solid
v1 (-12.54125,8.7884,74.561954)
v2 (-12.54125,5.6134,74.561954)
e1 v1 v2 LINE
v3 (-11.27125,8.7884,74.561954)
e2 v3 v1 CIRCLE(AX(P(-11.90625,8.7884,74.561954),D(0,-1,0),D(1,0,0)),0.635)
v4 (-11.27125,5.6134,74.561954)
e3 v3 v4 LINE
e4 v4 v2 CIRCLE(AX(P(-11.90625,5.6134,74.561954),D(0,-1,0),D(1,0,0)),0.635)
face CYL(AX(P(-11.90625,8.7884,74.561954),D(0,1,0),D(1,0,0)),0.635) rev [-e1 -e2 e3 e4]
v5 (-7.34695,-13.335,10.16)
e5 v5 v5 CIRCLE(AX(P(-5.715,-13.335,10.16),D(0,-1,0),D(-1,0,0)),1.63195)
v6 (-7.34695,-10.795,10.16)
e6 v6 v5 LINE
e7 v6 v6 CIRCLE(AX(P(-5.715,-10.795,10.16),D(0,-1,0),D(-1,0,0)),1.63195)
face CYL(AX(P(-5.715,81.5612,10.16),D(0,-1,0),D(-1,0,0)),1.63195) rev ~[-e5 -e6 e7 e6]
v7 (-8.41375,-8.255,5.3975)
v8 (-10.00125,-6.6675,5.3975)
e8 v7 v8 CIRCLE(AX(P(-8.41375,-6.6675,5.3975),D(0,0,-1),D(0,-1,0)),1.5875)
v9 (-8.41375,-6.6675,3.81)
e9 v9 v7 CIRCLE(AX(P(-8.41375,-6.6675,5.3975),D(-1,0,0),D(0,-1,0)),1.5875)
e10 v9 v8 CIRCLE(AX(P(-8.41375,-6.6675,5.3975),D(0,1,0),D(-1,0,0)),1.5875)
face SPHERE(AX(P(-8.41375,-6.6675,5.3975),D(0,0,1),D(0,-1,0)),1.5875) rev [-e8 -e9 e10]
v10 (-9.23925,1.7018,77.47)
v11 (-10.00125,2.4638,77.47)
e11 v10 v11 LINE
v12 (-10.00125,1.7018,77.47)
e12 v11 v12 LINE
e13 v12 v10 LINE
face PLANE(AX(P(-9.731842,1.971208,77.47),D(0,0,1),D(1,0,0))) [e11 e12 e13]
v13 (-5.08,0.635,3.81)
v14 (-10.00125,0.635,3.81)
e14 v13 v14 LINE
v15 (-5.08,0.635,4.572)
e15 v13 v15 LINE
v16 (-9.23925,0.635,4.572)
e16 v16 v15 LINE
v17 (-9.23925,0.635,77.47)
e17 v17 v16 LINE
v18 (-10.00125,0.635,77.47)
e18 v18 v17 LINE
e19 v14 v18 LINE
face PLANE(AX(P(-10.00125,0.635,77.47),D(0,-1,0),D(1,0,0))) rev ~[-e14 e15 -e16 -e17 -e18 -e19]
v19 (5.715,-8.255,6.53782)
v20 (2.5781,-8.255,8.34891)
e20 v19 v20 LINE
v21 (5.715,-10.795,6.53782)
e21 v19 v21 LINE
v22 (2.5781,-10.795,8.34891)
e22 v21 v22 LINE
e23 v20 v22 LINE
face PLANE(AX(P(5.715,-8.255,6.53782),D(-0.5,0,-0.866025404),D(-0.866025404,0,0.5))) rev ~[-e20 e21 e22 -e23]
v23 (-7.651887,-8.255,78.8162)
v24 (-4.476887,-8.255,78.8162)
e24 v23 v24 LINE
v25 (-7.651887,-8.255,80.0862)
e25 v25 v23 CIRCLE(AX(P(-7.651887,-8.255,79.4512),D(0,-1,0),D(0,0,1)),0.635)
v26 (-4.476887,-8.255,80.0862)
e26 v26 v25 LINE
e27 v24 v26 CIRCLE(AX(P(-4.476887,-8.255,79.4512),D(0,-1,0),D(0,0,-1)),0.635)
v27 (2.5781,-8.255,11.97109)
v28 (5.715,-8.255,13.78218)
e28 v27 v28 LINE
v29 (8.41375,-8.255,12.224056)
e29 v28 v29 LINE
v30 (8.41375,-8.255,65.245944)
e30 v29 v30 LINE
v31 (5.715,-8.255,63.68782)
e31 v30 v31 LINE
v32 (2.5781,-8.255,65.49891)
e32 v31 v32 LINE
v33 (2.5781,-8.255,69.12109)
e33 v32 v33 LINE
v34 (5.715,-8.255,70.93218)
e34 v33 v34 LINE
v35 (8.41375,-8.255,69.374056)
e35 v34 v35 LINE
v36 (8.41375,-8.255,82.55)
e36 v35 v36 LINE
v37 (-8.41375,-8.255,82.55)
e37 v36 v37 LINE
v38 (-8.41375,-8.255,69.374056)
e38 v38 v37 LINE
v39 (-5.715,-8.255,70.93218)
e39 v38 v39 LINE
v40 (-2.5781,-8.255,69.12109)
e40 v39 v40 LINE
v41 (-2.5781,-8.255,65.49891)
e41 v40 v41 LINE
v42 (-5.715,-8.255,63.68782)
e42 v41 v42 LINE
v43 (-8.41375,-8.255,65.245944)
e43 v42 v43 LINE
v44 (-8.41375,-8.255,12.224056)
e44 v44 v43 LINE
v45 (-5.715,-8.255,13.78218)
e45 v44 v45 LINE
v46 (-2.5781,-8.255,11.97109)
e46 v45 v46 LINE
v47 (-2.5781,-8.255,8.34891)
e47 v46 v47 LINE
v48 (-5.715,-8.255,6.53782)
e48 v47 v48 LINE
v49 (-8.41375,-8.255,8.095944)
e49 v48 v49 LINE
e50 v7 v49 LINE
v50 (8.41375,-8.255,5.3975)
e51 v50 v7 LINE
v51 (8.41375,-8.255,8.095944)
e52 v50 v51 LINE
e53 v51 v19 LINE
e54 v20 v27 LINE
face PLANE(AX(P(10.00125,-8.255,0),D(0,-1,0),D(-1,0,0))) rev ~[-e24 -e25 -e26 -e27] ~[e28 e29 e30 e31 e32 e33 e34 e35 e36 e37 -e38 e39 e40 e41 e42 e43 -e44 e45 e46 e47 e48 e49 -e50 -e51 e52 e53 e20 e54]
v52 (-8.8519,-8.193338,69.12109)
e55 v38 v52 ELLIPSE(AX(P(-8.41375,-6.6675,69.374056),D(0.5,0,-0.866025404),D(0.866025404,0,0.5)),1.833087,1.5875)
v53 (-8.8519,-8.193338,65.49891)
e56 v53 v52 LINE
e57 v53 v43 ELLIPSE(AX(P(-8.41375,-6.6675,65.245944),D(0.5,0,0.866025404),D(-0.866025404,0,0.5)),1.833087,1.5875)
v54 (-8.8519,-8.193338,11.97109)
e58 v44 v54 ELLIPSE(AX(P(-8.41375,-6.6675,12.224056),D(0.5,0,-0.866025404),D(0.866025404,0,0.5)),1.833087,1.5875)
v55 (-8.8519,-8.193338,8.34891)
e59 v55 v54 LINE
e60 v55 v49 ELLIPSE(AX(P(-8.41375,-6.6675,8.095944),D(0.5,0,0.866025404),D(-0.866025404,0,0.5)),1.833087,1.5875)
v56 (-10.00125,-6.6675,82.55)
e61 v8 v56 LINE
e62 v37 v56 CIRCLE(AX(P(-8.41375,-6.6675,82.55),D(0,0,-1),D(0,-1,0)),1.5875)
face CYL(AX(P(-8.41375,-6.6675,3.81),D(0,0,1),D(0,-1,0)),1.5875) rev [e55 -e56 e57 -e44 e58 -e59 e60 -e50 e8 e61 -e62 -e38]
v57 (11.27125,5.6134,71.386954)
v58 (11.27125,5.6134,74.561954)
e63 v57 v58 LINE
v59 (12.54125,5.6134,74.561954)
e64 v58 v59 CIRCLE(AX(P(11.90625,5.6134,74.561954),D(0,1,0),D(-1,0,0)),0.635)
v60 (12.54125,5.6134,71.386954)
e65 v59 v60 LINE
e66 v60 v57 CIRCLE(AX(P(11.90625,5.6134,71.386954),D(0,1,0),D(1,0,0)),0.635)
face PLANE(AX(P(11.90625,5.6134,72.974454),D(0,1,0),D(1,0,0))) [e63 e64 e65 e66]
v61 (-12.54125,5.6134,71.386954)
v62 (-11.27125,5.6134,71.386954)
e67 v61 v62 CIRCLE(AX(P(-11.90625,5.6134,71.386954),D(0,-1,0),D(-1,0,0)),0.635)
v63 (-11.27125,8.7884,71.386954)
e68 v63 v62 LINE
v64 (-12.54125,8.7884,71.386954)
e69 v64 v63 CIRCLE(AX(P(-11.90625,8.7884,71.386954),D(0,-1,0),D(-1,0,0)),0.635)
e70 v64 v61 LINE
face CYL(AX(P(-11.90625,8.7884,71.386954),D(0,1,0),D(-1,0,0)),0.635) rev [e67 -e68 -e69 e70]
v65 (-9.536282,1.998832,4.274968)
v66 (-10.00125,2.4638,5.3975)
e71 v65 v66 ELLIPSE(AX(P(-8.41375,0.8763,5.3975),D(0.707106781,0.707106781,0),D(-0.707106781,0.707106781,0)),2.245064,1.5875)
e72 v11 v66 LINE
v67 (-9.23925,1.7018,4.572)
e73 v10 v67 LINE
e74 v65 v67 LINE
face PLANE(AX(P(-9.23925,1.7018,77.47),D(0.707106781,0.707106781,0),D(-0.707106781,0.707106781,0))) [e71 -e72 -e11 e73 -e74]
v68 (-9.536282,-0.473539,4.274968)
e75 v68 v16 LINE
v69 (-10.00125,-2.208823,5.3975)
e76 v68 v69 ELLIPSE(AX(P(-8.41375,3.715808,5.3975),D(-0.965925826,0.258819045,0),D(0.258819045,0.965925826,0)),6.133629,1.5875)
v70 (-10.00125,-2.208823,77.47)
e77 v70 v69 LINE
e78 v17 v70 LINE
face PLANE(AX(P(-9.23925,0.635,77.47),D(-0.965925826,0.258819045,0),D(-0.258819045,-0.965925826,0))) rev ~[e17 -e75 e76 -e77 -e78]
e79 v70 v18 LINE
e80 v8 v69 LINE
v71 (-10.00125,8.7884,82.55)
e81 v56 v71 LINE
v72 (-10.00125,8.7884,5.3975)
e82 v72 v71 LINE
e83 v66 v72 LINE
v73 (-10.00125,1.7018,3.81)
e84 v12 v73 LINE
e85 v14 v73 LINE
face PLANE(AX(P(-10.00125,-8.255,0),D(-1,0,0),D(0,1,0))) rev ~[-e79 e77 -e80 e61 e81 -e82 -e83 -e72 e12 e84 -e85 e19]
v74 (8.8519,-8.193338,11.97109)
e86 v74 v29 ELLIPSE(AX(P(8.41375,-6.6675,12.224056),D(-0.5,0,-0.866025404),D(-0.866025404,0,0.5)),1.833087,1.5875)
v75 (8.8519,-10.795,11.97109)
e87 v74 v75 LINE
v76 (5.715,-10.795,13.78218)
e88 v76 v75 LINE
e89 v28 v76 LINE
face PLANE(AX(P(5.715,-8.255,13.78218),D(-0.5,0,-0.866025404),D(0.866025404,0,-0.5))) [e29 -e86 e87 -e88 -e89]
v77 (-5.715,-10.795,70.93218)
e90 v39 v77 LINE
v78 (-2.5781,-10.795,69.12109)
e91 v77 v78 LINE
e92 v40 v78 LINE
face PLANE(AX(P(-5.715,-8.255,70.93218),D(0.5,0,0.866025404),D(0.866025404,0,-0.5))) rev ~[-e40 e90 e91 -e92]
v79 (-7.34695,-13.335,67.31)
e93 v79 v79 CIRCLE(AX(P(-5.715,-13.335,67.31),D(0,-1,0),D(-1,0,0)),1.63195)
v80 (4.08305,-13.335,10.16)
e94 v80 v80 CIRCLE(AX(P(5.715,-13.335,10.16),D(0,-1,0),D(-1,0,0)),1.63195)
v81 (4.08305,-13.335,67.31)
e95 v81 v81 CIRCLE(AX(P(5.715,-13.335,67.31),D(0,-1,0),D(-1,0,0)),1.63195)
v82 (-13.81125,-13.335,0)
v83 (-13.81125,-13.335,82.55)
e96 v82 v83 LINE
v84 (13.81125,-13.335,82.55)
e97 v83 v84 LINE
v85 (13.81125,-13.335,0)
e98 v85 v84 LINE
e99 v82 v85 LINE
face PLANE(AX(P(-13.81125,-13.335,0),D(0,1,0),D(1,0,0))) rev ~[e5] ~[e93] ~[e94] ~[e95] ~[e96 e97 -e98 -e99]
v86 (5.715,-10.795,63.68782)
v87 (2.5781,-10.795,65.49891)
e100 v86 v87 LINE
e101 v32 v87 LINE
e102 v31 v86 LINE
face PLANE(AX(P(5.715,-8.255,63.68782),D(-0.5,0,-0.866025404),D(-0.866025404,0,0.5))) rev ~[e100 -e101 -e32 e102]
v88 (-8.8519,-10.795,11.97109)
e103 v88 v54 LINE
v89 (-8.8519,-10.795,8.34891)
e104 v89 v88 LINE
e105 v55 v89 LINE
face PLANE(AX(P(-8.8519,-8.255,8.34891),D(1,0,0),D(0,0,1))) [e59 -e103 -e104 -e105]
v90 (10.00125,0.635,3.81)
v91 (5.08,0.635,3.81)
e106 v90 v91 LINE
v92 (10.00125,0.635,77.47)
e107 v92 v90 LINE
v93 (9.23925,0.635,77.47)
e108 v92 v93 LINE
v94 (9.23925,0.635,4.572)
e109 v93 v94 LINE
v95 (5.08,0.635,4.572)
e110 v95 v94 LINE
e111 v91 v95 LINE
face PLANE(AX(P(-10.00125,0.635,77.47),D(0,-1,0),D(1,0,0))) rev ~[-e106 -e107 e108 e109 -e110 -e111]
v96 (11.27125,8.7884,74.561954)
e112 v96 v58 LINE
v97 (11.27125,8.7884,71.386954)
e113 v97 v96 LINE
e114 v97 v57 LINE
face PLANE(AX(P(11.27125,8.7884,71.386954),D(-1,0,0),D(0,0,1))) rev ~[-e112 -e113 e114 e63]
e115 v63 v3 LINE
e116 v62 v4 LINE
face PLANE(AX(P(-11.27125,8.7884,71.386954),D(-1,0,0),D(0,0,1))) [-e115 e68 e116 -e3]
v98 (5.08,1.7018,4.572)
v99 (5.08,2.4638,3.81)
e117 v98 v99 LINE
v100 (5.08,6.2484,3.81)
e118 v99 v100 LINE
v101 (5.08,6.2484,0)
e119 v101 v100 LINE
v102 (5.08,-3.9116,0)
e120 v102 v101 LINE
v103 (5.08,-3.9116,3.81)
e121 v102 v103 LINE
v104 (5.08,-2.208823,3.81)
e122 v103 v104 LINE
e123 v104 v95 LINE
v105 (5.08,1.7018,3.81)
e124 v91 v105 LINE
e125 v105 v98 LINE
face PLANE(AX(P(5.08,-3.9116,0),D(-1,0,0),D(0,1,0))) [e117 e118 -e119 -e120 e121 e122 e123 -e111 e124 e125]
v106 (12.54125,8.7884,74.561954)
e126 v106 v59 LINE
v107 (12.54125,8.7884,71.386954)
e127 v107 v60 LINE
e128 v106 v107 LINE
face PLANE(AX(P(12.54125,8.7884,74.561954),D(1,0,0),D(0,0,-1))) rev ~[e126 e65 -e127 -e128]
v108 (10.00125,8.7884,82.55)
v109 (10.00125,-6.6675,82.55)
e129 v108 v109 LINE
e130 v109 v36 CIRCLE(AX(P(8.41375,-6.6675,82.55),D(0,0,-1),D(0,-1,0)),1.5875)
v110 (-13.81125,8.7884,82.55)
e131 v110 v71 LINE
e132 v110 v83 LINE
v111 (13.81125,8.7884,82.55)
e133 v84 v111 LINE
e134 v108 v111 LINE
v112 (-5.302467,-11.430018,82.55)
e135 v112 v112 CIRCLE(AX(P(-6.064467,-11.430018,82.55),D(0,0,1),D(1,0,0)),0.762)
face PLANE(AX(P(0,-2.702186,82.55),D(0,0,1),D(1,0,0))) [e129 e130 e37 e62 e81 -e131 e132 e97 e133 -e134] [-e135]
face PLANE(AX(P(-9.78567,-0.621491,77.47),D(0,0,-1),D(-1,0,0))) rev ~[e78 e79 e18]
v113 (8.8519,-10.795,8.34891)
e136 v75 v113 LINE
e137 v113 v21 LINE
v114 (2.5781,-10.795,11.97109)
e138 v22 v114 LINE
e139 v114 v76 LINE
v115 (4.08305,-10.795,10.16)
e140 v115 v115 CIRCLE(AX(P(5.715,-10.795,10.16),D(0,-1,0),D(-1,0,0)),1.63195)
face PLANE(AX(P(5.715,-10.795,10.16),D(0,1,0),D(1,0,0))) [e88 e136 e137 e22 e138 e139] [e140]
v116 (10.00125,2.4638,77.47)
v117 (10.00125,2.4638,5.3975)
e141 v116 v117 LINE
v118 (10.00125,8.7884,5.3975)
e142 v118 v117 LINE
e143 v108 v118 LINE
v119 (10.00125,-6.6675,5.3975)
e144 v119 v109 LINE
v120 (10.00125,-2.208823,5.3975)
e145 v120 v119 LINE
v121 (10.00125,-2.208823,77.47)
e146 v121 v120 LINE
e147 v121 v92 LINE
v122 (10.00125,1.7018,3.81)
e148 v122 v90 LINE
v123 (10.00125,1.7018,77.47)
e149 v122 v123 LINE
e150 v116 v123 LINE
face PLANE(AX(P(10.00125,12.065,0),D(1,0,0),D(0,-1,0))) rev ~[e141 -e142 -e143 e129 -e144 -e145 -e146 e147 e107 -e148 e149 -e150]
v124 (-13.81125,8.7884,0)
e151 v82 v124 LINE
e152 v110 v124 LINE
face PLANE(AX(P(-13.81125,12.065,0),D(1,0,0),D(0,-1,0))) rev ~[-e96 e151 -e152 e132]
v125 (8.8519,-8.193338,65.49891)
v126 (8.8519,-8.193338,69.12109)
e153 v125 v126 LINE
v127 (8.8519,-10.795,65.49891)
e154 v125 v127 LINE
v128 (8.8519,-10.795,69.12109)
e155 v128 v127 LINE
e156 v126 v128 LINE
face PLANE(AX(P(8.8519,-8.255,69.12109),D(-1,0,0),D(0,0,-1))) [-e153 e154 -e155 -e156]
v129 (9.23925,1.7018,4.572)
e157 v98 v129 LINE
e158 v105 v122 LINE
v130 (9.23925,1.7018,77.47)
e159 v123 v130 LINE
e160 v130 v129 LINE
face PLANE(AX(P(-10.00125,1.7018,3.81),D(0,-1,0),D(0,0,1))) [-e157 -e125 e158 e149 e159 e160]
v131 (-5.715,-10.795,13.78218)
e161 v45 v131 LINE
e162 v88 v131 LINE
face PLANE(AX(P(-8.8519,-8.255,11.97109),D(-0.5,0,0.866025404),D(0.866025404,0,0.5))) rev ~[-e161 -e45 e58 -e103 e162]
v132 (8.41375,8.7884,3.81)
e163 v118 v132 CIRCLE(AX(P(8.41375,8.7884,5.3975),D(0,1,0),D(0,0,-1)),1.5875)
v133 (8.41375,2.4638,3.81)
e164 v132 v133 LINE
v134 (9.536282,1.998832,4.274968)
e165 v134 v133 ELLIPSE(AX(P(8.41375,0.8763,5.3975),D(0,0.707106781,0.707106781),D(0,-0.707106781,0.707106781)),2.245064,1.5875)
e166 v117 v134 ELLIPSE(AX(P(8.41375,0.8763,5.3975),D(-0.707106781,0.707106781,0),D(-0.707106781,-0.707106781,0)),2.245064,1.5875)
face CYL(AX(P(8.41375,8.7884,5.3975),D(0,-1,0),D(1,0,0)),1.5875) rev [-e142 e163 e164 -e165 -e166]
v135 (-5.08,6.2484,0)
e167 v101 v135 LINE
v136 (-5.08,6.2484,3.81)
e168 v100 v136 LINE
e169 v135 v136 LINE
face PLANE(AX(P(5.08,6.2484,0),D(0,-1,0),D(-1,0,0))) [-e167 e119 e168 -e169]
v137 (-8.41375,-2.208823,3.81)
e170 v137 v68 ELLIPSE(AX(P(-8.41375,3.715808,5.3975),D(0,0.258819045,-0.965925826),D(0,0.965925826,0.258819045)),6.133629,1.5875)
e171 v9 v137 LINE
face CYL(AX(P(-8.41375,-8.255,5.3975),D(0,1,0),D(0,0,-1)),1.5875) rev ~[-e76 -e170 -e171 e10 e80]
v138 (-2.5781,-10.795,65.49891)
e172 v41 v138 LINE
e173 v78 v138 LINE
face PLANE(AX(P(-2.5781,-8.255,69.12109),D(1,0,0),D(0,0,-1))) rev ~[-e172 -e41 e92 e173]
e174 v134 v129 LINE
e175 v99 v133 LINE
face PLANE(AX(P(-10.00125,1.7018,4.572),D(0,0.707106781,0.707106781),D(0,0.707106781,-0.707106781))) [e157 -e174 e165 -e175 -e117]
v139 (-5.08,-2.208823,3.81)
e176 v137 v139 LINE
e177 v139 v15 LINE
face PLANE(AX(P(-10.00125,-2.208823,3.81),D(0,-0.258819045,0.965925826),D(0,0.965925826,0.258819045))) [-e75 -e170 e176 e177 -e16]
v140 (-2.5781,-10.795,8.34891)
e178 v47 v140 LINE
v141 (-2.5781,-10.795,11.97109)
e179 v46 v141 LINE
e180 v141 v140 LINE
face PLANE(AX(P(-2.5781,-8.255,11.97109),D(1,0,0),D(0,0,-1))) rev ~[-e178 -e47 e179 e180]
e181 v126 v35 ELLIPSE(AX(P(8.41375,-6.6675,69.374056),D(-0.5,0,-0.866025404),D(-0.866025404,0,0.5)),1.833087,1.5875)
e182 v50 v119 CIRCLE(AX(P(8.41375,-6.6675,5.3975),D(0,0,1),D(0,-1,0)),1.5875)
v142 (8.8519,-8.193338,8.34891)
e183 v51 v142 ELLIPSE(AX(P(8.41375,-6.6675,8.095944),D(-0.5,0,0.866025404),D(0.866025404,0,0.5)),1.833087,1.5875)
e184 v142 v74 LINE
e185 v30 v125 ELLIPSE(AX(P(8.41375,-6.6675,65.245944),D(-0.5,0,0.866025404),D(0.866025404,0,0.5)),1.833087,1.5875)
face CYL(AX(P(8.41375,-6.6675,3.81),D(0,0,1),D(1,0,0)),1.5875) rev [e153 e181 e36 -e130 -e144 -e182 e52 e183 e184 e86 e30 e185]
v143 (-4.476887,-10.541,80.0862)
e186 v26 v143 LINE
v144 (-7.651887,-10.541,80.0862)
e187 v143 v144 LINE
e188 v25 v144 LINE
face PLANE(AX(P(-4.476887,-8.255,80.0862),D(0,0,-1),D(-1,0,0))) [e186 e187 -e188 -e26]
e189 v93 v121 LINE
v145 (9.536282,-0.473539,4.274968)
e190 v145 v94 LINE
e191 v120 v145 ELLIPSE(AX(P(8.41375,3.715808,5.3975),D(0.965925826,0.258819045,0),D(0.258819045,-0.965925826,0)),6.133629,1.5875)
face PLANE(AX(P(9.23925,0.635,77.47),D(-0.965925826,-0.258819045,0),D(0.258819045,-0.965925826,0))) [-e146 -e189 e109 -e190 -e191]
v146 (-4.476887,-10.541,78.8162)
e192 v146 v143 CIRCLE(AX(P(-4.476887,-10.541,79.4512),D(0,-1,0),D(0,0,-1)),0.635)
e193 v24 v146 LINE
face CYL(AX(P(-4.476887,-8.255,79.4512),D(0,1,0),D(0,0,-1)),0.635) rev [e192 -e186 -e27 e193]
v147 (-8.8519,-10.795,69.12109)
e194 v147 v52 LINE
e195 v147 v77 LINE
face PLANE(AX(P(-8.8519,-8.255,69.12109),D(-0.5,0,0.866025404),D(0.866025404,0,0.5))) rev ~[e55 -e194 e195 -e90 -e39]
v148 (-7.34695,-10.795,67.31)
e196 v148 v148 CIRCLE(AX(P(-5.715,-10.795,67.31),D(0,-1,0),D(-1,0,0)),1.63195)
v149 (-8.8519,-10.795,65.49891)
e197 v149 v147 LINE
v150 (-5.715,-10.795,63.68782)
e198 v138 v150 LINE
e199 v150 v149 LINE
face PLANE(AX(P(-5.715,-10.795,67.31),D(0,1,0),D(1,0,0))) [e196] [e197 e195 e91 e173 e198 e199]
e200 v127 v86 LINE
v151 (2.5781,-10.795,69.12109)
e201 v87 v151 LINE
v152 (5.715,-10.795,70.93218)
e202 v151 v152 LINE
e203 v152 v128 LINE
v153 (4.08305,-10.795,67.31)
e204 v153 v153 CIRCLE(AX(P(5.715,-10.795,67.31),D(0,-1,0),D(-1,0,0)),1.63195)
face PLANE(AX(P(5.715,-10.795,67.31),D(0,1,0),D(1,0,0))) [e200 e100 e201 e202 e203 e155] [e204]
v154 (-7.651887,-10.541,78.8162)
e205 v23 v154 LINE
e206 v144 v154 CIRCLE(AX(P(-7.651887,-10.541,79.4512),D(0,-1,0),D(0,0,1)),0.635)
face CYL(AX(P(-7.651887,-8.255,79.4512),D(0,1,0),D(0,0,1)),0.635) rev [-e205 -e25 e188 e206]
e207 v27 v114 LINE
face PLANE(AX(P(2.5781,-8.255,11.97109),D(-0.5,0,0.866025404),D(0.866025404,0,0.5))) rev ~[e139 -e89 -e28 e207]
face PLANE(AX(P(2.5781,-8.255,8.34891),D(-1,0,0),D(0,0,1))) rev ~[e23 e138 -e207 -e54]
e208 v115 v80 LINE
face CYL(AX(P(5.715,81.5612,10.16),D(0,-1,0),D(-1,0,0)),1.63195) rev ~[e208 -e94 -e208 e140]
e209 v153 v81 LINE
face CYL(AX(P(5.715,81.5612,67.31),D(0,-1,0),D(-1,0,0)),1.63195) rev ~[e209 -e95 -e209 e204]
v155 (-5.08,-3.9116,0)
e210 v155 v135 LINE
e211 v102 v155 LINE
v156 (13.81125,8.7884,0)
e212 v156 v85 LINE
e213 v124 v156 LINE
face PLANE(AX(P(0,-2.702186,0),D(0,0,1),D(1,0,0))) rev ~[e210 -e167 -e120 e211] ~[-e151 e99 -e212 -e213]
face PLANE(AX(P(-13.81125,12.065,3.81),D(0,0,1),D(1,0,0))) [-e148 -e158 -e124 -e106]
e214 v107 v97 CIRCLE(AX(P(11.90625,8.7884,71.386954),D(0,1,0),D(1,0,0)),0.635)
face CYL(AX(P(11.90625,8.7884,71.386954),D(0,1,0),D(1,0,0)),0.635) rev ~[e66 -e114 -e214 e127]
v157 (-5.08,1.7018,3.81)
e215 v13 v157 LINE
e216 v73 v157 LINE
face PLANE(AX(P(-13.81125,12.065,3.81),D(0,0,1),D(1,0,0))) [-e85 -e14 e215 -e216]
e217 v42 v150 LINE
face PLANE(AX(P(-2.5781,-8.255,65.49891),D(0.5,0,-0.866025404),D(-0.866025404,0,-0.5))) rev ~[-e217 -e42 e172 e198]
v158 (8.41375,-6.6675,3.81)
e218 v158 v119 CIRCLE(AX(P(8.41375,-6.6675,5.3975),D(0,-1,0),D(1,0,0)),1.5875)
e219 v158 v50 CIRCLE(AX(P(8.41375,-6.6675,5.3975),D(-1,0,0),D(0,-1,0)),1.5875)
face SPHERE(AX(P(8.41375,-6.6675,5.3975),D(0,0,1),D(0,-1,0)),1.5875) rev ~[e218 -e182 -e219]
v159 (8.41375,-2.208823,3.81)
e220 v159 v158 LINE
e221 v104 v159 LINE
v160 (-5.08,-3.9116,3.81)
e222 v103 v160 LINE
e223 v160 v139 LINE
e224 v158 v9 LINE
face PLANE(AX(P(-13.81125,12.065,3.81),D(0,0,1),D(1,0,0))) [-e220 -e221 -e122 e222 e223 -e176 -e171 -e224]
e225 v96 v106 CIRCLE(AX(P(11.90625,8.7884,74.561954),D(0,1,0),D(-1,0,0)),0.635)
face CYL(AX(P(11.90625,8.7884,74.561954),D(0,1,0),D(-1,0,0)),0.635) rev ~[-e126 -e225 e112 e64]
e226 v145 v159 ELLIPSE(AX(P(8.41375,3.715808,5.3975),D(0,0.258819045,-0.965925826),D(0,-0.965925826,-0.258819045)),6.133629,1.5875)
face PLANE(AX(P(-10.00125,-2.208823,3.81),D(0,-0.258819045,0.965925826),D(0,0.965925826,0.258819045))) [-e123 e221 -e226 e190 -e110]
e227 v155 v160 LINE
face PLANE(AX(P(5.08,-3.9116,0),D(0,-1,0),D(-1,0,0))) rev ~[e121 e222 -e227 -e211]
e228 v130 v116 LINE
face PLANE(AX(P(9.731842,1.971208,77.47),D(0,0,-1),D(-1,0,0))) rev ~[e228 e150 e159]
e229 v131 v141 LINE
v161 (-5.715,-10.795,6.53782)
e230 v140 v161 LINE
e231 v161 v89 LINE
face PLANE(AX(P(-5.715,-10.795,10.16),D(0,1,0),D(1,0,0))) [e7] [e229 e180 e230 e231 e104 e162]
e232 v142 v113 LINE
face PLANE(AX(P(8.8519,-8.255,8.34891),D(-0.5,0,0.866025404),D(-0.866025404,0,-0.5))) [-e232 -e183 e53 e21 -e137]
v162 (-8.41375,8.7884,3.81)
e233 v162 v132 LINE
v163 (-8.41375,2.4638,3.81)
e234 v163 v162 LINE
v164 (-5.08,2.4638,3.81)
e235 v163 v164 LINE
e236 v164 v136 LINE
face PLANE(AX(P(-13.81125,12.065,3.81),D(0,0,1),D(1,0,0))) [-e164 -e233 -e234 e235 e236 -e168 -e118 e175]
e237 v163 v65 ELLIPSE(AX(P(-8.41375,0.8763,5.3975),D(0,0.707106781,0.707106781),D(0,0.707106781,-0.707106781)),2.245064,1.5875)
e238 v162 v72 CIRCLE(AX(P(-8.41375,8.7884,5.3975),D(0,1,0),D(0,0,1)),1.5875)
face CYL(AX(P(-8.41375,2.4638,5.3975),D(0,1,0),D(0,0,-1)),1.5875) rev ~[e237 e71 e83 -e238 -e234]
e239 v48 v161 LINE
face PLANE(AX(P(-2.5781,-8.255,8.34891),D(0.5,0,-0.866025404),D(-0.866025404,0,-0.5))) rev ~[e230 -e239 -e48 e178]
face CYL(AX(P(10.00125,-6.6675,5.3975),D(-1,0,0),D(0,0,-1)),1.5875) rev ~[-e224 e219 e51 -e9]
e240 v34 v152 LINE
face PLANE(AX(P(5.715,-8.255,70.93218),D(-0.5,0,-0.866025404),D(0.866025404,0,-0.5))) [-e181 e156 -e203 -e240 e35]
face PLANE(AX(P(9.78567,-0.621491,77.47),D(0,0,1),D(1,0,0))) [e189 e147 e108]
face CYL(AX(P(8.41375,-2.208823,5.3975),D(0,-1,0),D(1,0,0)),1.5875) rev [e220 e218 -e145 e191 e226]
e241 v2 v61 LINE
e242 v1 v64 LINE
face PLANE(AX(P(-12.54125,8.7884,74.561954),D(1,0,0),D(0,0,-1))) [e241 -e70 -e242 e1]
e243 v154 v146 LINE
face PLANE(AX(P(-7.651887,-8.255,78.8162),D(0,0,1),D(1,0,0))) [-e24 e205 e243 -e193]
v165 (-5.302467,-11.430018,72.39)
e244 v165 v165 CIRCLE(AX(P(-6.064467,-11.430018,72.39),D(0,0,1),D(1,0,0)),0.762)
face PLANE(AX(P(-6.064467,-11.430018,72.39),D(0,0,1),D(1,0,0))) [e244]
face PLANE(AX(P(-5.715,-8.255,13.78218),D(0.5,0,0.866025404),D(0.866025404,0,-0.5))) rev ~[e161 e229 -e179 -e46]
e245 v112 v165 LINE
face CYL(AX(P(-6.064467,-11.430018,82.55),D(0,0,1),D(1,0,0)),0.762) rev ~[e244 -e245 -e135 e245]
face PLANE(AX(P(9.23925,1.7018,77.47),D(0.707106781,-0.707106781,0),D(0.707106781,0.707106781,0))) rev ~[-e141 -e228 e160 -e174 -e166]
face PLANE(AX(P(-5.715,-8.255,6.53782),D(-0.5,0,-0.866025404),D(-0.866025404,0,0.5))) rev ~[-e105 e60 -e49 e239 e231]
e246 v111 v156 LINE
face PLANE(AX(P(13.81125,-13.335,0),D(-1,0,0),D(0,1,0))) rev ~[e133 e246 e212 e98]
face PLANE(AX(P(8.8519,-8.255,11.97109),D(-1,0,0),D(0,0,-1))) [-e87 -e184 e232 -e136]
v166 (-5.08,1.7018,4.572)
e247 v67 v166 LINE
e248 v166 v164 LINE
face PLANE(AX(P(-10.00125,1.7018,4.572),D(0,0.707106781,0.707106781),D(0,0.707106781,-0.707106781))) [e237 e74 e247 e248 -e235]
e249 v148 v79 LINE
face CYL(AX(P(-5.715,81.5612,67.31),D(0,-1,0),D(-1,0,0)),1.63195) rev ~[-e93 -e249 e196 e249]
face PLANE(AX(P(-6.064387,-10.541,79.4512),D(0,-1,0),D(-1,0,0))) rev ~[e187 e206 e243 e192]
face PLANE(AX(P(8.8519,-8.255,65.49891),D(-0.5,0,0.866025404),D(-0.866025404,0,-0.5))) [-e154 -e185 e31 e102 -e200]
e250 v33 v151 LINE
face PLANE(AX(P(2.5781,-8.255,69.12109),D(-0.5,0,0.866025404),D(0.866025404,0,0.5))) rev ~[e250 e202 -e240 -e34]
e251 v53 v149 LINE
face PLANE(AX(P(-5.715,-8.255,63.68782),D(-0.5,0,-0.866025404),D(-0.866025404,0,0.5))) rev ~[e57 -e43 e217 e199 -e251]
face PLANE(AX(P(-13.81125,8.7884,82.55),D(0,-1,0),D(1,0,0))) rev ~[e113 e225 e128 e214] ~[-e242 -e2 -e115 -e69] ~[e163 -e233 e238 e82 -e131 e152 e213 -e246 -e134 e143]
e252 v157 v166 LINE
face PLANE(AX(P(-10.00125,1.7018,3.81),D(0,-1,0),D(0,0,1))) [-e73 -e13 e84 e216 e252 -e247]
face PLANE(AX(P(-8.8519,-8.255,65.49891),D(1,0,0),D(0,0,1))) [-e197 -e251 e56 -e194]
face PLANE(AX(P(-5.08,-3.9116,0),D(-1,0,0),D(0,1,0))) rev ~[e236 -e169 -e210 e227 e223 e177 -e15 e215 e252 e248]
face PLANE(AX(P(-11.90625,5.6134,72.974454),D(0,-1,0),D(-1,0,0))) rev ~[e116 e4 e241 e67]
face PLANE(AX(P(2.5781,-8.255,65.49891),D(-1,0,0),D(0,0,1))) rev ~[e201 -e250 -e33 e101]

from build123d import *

# Parameters (mm, degrees)
BOSS_EXTRUDE1_DEPTH            = 82.55
BOSS_EXTRUDE2_START            = -5.08
BOSS_EXTRUDE2_DEPTH            = 77.47
BOSS_EXTRUDE4_REACH            = 89.467
SKETCH8_W                      = 27.6225
SKETCH8_H                      = 3.81
BOSS_EXTRUDE5_REACH            = 88.945
CUT_EXTRUDE1_REACH             = 86.753
SKETCH10_W                     = 10.16
SKETCH10_H                     = 10.16
SKETCH11_W                     = 27.6225
SKETCH11_H                     = 3.2766
CUT_EXTRUDE2_DEPTH             = 85.753025619
FILLET3_R                      = 1.5875
CUT_EXTRUDE3_DEPTH             = 2.286
CUT_EXTRUDE4_DEPTH             = 3.175
F_4_CLEARANCE_HOLE1_D          = 3.2639
CUT_EXTRUDE5_DEPTH             = 2.54
CUT_EXTRUDE5_DIRECTION_2_REACH = 87.415
SKETCH18_R                     = 0.762
CUT_EXTRUDE6_DEPTH             = 10.16


with BuildPart() as part:
    # Sketch1 → Boss-Extrude1 (new body)
    with BuildSketch(Plane.XY):
        Polygon((10.00125, 12.065), (10.00125, -8.255), (-10.00125, -8.255), (-10.00125, 12.065), (-13.81125, 12.065), (-13.81125, -13.335), (13.81125, -13.335), (13.81125, 12.065), align=None)
    extrude(amount=BOSS_EXTRUDE1_DEPTH)

    # Sketch3 → Boss-Extrude2 (add)
    with BuildSketch(Plane.XY.offset(82.55).offset(BOSS_EXTRUDE2_START)):
        Polygon((10.00125, 1.7018), (9.23925, 1.7018), (10.00125, 2.4638), align=None)
        Polygon((10.00125, 0.635), (9.23925, 0.635), (10.00125, -2.208822715), align=None)
        Polygon((-10.00125, 2.4638), (-10.00125, 1.7018), (-9.23925, 1.7018), align=None)
        Polygon((-10.00125, -2.208822715), (-10.00125, 0.635), (-9.23925, 0.635), align=None)
    extrude(amount=-BOSS_EXTRUDE2_DEPTH)

    # Boss-Extrude4: up to this face of the body (flat: up to its plane)
    boss_extrude4_end = Plane(part.part.faces().sort_by_distance((0, -8.255, 41.275))[0])
    # Sketch8 → Boss-Extrude4 (add, up to the picked face)
    with BuildSketch(Plane(origin=(0, 12.065, 0), x_dir=(1, 0, 0), z_dir=(0, 1, 0)), mode=Mode.PRIVATE) as boss_extrude4_sk1:
        with Locations((0, -1.905)):
            Rectangle(SKETCH8_W, SKETCH8_H)
    boss_extrude4_tool1 = split(extrude(boss_extrude4_sk1.sketch, amount=-BOSS_EXTRUDE4_REACH, mode=Mode.PRIVATE), bisect_by=boss_extrude4_end, keep=Keep.BOTH, mode=Mode.PRIVATE)
    add(boss_extrude4_tool1.solids().sort_by(Axis((0, 12.065, 1.905), (0, -1, 0)))[0])

    # Boss-Extrude5: up to this face of the body (flat: up to its plane)
    boss_extrude5_end = Plane(part.part.faces().sort_by_distance((10.00125, 7.2644, 4.623196778))[0])
    # Sketch9 → Boss-Extrude5 (add, up to the picked face)
    with BuildSketch(Plane(origin=(-10.00125, 0, 0), x_dir=(0, 0, -1), z_dir=(1, 0, 0)), mode=Mode.PRIVATE) as boss_extrude5_sk1:
        Polygon((-3.81, 2.4638), (-3.81, 1.7018), (-4.572, 1.7018), align=None)
    boss_extrude5_tool1 = split(extrude(boss_extrude5_sk1.sketch, amount=BOSS_EXTRUDE5_REACH, mode=Mode.PRIVATE), bisect_by=boss_extrude5_end, keep=Keep.BOTH, mode=Mode.PRIVATE)
    # Sketch9 → Boss-Extrude5 (add, up to the picked face)
    with BuildSketch(Plane(origin=(-10.00125, 0, 0), x_dir=(0, 0, -1), z_dir=(1, 0, 0)), mode=Mode.PRIVATE) as boss_extrude5_sk2:
        Polygon((-3.81, 0.635), (-3.81, -2.208822715), (-4.572, 0.635), align=None)
    boss_extrude5_tool2 = split(extrude(boss_extrude5_sk2.sketch, amount=BOSS_EXTRUDE5_REACH, mode=Mode.PRIVATE), bisect_by=boss_extrude5_end, keep=Keep.BOTH, mode=Mode.PRIVATE)
    add(boss_extrude5_tool1.solids().sort_by(Axis((-10.00125, 1.9558, 4.064), (1, 0, 0)))[0])
    add(boss_extrude5_tool2.solids().sort_by(Axis((-10.00125, -0.312941, 4.064), (1, 0, 0)))[0])

    # Sketch10 → Cut-Extrude1 (cut, up to next)
    with BuildSketch(Plane(origin=(0, 0, 0), x_dir=(-1, 0, 0), z_dir=(0, 0, -1)), mode=Mode.PRIVATE) as cut_extrude1_sk1:
        with Locations((0, 1.1684)):
            Rectangle(SKETCH10_W, SKETCH10_H)
    cut_extrude1_tool1 = extrude(cut_extrude1_sk1.sketch, amount=-CUT_EXTRUDE1_REACH, mode=Mode.PRIVATE) & part.part
    add(cut_extrude1_tool1.solids().sort_by_distance((0, 1.1684, 0))[0], mode=Mode.SUBTRACT)

    # Sketch11 → Cut-Extrude2 (cut, through all)
    with BuildSketch(Plane.XY.offset(82.55)):
        with Locations((0, 10.4267)):
            Rectangle(SKETCH11_W, SKETCH11_H)
    extrude(amount=-CUT_EXTRUDE2_DEPTH, mode=Mode.SUBTRACT)

    # Fillet3
    fillet3_edges = [part.edges().sort_by_distance(p)[0] for p in [
        (-10.00125, -8.255, 43.18),
        (10.00125, -8.255, 43.18),
        (10.00125, 5.6261, 3.81),
        (0, -8.255, 3.81),
        (10.00125, -5.231911358, 3.81),
        (-10.00125, 5.6261, 3.81),
        (-10.00125, -5.231911358, 3.81),
    ]]
    fillet(fillet3_edges, radius=FILLET3_R)

    # Sketch13 → Cut-Extrude3 (cut)
    with BuildSketch(Plane(origin=(0, -8.255, 0), x_dir=(1, 0, 0), z_dir=(0, 1, 0))):
        with BuildLine():
            Line((-7.651886934, -78.8162), (-4.476886934, -78.8162))
            ThreePointArc((-4.476886934, -78.8162), (-3.841886934, -79.4512), (-4.476886934, -80.0862))
            Line((-4.476886934, -80.0862), (-7.651886934, -80.0862))
            ThreePointArc((-7.651886934, -80.0862), (-8.286886934, -79.4512), (-7.651886934, -78.8162))
        make_face()
    extrude(amount=-CUT_EXTRUDE3_DEPTH, mode=Mode.SUBTRACT)

    # Sketch14 → Cut-Extrude4 (cut)
    with BuildSketch(Plane(origin=(0, 8.7884, 0), x_dir=(1, 0, 0), z_dir=(0, 1, 0))):
        with BuildLine():
            Line((-11.27125, -71.386954), (-11.27125, -74.561954))
            ThreePointArc((-11.27125, -74.561954), (-11.90625, -75.196954), (-12.54125, -74.561954))
            Line((-12.54125, -74.561954), (-12.54125, -71.386954))
            ThreePointArc((-12.54125, -71.386954), (-11.90625, -70.751954), (-11.27125, -71.386954))
        make_face()
        with BuildLine():
            Line((11.27125, -71.386954), (11.27125, -74.561954))
            ThreePointArc((11.27125, -74.561954), (11.90625, -75.196954), (12.54125, -74.561954))
            Line((12.54125, -74.561954), (12.54125, -71.386954))
            ThreePointArc((12.54125, -71.386954), (11.90625, -70.751954), (11.27125, -71.386954))
        make_face()
    extrude(amount=-CUT_EXTRUDE4_DEPTH, mode=Mode.SUBTRACT)

    # #4 Clearance Hole1 (through all)
    with Locations(Plane(origin=(0, -8.255, 0), x_dir=(1, 0, 0), z_dir=(0, 1, 0))):
        with Locations((-5.715, -10.16), (5.715, -67.31), (-5.715, -67.31), (5.715, -10.16)):
            Hole(F_4_CLEARANCE_HOLE1_D / 2)

    # Sketch17 → Cut-Extrude5 (cut)
    with BuildSketch(Plane(origin=(0, -8.255, 0), x_dir=(1, 0, 0), z_dir=(0, 1, 0))):
        Polygon((-5.715, -13.782180119), (-2.5781, -11.971090059), (-2.5781, -8.348909941), (-5.715, -6.537819881), (-8.8519, -8.348909941), (-8.8519, -11.971090059), align=None)
        Polygon((5.715, -13.782180119), (8.8519, -11.971090059), (8.8519, -8.348909941), (5.715, -6.537819881), (2.5781, -8.348909941), (2.5781, -11.971090059), align=None)
        Polygon((-5.715, -63.687819881), (-8.8519, -65.498909941), (-8.8519, -69.121090059), (-5.715, -70.932180119), (-2.5781, -69.121090059), (-2.5781, -65.498909941), align=None)
        Polygon((5.715, -63.687819881), (2.5781, -65.498909941), (2.5781, -69.121090059), (5.715, -70.932180119), (8.8519, -69.121090059), (8.8519, -65.498909941), align=None)
    extrude(amount=-CUT_EXTRUDE5_DEPTH, mode=Mode.SUBTRACT)

    # Sketch17 → Cut-Extrude5 direction 2 (cut, up to next)
    with BuildSketch(Plane(origin=(0, -8.255, 0), x_dir=(1, 0, 0), z_dir=(0, 1, 0)), mode=Mode.PRIVATE) as cut_extrude5_direction_2_sk1:
        Polygon((-5.715, -13.782180119), (-2.5781, -11.971090059), (-2.5781, -8.348909941), (-5.715, -6.537819881), (-8.8519, -8.348909941), (-8.8519, -11.971090059), align=None)
    cut_extrude5_direction_2_tool1 = extrude(cut_extrude5_direction_2_sk1.sketch, amount=CUT_EXTRUDE5_DIRECTION_2_REACH, mode=Mode.PRIVATE) & part.part
    # Sketch17 → Cut-Extrude5 direction 2 (cut, up to next)
    with BuildSketch(Plane(origin=(0, -8.255, 0), x_dir=(1, 0, 0), z_dir=(0, 1, 0)), mode=Mode.PRIVATE) as cut_extrude5_direction_2_sk2:
        Polygon((5.715, -13.782180119), (8.8519, -11.971090059), (8.8519, -8.348909941), (5.715, -6.537819881), (2.5781, -8.348909941), (2.5781, -11.971090059), align=None)
    cut_extrude5_direction_2_tool2 = extrude(cut_extrude5_direction_2_sk2.sketch, amount=CUT_EXTRUDE5_DIRECTION_2_REACH, mode=Mode.PRIVATE) & part.part
    # Sketch17 → Cut-Extrude5 direction 2 (cut, up to next)
    with BuildSketch(Plane(origin=(0, -8.255, 0), x_dir=(1, 0, 0), z_dir=(0, 1, 0)), mode=Mode.PRIVATE) as cut_extrude5_direction_2_sk3:
        Polygon((-5.715, -63.687819881), (-8.8519, -65.498909941), (-8.8519, -69.121090059), (-5.715, -70.932180119), (-2.5781, -69.121090059), (-2.5781, -65.498909941), align=None)
    cut_extrude5_direction_2_tool3 = extrude(cut_extrude5_direction_2_sk3.sketch, amount=CUT_EXTRUDE5_DIRECTION_2_REACH, mode=Mode.PRIVATE) & part.part
    # Sketch17 → Cut-Extrude5 direction 2 (cut, up to next)
    with BuildSketch(Plane(origin=(0, -8.255, 0), x_dir=(1, 0, 0), z_dir=(0, 1, 0)), mode=Mode.PRIVATE) as cut_extrude5_direction_2_sk4:
        Polygon((5.715, -63.687819881), (2.5781, -65.498909941), (2.5781, -69.121090059), (5.715, -70.932180119), (8.8519, -69.121090059), (8.8519, -65.498909941), align=None)
    cut_extrude5_direction_2_tool4 = extrude(cut_extrude5_direction_2_sk4.sketch, amount=CUT_EXTRUDE5_DIRECTION_2_REACH, mode=Mode.PRIVATE) & part.part
    add(cut_extrude5_direction_2_tool1.solids().sort_by_distance((-5.715, -8.255, 10.16))[0], mode=Mode.SUBTRACT)
    add(cut_extrude5_direction_2_tool2.solids().sort_by_distance((5.715, -8.255, 10.16))[0], mode=Mode.SUBTRACT)
    add(cut_extrude5_direction_2_tool3.solids().sort_by_distance((-5.715, -8.255, 67.31))[0], mode=Mode.SUBTRACT)
    add(cut_extrude5_direction_2_tool4.solids().sort_by_distance((5.715, -8.255, 67.31))[0], mode=Mode.SUBTRACT)

    # Sketch18 → Cut-Extrude6 (cut)
    with BuildSketch(Plane.XY.offset(82.55)):
        with Locations((-6.064467422, -11.430018288)):
            Circle(SKETCH18_R)
    extrude(amount=-CUT_EXTRUDE6_DEPTH, mode=Mode.SUBTRACT)


solid = part.part
